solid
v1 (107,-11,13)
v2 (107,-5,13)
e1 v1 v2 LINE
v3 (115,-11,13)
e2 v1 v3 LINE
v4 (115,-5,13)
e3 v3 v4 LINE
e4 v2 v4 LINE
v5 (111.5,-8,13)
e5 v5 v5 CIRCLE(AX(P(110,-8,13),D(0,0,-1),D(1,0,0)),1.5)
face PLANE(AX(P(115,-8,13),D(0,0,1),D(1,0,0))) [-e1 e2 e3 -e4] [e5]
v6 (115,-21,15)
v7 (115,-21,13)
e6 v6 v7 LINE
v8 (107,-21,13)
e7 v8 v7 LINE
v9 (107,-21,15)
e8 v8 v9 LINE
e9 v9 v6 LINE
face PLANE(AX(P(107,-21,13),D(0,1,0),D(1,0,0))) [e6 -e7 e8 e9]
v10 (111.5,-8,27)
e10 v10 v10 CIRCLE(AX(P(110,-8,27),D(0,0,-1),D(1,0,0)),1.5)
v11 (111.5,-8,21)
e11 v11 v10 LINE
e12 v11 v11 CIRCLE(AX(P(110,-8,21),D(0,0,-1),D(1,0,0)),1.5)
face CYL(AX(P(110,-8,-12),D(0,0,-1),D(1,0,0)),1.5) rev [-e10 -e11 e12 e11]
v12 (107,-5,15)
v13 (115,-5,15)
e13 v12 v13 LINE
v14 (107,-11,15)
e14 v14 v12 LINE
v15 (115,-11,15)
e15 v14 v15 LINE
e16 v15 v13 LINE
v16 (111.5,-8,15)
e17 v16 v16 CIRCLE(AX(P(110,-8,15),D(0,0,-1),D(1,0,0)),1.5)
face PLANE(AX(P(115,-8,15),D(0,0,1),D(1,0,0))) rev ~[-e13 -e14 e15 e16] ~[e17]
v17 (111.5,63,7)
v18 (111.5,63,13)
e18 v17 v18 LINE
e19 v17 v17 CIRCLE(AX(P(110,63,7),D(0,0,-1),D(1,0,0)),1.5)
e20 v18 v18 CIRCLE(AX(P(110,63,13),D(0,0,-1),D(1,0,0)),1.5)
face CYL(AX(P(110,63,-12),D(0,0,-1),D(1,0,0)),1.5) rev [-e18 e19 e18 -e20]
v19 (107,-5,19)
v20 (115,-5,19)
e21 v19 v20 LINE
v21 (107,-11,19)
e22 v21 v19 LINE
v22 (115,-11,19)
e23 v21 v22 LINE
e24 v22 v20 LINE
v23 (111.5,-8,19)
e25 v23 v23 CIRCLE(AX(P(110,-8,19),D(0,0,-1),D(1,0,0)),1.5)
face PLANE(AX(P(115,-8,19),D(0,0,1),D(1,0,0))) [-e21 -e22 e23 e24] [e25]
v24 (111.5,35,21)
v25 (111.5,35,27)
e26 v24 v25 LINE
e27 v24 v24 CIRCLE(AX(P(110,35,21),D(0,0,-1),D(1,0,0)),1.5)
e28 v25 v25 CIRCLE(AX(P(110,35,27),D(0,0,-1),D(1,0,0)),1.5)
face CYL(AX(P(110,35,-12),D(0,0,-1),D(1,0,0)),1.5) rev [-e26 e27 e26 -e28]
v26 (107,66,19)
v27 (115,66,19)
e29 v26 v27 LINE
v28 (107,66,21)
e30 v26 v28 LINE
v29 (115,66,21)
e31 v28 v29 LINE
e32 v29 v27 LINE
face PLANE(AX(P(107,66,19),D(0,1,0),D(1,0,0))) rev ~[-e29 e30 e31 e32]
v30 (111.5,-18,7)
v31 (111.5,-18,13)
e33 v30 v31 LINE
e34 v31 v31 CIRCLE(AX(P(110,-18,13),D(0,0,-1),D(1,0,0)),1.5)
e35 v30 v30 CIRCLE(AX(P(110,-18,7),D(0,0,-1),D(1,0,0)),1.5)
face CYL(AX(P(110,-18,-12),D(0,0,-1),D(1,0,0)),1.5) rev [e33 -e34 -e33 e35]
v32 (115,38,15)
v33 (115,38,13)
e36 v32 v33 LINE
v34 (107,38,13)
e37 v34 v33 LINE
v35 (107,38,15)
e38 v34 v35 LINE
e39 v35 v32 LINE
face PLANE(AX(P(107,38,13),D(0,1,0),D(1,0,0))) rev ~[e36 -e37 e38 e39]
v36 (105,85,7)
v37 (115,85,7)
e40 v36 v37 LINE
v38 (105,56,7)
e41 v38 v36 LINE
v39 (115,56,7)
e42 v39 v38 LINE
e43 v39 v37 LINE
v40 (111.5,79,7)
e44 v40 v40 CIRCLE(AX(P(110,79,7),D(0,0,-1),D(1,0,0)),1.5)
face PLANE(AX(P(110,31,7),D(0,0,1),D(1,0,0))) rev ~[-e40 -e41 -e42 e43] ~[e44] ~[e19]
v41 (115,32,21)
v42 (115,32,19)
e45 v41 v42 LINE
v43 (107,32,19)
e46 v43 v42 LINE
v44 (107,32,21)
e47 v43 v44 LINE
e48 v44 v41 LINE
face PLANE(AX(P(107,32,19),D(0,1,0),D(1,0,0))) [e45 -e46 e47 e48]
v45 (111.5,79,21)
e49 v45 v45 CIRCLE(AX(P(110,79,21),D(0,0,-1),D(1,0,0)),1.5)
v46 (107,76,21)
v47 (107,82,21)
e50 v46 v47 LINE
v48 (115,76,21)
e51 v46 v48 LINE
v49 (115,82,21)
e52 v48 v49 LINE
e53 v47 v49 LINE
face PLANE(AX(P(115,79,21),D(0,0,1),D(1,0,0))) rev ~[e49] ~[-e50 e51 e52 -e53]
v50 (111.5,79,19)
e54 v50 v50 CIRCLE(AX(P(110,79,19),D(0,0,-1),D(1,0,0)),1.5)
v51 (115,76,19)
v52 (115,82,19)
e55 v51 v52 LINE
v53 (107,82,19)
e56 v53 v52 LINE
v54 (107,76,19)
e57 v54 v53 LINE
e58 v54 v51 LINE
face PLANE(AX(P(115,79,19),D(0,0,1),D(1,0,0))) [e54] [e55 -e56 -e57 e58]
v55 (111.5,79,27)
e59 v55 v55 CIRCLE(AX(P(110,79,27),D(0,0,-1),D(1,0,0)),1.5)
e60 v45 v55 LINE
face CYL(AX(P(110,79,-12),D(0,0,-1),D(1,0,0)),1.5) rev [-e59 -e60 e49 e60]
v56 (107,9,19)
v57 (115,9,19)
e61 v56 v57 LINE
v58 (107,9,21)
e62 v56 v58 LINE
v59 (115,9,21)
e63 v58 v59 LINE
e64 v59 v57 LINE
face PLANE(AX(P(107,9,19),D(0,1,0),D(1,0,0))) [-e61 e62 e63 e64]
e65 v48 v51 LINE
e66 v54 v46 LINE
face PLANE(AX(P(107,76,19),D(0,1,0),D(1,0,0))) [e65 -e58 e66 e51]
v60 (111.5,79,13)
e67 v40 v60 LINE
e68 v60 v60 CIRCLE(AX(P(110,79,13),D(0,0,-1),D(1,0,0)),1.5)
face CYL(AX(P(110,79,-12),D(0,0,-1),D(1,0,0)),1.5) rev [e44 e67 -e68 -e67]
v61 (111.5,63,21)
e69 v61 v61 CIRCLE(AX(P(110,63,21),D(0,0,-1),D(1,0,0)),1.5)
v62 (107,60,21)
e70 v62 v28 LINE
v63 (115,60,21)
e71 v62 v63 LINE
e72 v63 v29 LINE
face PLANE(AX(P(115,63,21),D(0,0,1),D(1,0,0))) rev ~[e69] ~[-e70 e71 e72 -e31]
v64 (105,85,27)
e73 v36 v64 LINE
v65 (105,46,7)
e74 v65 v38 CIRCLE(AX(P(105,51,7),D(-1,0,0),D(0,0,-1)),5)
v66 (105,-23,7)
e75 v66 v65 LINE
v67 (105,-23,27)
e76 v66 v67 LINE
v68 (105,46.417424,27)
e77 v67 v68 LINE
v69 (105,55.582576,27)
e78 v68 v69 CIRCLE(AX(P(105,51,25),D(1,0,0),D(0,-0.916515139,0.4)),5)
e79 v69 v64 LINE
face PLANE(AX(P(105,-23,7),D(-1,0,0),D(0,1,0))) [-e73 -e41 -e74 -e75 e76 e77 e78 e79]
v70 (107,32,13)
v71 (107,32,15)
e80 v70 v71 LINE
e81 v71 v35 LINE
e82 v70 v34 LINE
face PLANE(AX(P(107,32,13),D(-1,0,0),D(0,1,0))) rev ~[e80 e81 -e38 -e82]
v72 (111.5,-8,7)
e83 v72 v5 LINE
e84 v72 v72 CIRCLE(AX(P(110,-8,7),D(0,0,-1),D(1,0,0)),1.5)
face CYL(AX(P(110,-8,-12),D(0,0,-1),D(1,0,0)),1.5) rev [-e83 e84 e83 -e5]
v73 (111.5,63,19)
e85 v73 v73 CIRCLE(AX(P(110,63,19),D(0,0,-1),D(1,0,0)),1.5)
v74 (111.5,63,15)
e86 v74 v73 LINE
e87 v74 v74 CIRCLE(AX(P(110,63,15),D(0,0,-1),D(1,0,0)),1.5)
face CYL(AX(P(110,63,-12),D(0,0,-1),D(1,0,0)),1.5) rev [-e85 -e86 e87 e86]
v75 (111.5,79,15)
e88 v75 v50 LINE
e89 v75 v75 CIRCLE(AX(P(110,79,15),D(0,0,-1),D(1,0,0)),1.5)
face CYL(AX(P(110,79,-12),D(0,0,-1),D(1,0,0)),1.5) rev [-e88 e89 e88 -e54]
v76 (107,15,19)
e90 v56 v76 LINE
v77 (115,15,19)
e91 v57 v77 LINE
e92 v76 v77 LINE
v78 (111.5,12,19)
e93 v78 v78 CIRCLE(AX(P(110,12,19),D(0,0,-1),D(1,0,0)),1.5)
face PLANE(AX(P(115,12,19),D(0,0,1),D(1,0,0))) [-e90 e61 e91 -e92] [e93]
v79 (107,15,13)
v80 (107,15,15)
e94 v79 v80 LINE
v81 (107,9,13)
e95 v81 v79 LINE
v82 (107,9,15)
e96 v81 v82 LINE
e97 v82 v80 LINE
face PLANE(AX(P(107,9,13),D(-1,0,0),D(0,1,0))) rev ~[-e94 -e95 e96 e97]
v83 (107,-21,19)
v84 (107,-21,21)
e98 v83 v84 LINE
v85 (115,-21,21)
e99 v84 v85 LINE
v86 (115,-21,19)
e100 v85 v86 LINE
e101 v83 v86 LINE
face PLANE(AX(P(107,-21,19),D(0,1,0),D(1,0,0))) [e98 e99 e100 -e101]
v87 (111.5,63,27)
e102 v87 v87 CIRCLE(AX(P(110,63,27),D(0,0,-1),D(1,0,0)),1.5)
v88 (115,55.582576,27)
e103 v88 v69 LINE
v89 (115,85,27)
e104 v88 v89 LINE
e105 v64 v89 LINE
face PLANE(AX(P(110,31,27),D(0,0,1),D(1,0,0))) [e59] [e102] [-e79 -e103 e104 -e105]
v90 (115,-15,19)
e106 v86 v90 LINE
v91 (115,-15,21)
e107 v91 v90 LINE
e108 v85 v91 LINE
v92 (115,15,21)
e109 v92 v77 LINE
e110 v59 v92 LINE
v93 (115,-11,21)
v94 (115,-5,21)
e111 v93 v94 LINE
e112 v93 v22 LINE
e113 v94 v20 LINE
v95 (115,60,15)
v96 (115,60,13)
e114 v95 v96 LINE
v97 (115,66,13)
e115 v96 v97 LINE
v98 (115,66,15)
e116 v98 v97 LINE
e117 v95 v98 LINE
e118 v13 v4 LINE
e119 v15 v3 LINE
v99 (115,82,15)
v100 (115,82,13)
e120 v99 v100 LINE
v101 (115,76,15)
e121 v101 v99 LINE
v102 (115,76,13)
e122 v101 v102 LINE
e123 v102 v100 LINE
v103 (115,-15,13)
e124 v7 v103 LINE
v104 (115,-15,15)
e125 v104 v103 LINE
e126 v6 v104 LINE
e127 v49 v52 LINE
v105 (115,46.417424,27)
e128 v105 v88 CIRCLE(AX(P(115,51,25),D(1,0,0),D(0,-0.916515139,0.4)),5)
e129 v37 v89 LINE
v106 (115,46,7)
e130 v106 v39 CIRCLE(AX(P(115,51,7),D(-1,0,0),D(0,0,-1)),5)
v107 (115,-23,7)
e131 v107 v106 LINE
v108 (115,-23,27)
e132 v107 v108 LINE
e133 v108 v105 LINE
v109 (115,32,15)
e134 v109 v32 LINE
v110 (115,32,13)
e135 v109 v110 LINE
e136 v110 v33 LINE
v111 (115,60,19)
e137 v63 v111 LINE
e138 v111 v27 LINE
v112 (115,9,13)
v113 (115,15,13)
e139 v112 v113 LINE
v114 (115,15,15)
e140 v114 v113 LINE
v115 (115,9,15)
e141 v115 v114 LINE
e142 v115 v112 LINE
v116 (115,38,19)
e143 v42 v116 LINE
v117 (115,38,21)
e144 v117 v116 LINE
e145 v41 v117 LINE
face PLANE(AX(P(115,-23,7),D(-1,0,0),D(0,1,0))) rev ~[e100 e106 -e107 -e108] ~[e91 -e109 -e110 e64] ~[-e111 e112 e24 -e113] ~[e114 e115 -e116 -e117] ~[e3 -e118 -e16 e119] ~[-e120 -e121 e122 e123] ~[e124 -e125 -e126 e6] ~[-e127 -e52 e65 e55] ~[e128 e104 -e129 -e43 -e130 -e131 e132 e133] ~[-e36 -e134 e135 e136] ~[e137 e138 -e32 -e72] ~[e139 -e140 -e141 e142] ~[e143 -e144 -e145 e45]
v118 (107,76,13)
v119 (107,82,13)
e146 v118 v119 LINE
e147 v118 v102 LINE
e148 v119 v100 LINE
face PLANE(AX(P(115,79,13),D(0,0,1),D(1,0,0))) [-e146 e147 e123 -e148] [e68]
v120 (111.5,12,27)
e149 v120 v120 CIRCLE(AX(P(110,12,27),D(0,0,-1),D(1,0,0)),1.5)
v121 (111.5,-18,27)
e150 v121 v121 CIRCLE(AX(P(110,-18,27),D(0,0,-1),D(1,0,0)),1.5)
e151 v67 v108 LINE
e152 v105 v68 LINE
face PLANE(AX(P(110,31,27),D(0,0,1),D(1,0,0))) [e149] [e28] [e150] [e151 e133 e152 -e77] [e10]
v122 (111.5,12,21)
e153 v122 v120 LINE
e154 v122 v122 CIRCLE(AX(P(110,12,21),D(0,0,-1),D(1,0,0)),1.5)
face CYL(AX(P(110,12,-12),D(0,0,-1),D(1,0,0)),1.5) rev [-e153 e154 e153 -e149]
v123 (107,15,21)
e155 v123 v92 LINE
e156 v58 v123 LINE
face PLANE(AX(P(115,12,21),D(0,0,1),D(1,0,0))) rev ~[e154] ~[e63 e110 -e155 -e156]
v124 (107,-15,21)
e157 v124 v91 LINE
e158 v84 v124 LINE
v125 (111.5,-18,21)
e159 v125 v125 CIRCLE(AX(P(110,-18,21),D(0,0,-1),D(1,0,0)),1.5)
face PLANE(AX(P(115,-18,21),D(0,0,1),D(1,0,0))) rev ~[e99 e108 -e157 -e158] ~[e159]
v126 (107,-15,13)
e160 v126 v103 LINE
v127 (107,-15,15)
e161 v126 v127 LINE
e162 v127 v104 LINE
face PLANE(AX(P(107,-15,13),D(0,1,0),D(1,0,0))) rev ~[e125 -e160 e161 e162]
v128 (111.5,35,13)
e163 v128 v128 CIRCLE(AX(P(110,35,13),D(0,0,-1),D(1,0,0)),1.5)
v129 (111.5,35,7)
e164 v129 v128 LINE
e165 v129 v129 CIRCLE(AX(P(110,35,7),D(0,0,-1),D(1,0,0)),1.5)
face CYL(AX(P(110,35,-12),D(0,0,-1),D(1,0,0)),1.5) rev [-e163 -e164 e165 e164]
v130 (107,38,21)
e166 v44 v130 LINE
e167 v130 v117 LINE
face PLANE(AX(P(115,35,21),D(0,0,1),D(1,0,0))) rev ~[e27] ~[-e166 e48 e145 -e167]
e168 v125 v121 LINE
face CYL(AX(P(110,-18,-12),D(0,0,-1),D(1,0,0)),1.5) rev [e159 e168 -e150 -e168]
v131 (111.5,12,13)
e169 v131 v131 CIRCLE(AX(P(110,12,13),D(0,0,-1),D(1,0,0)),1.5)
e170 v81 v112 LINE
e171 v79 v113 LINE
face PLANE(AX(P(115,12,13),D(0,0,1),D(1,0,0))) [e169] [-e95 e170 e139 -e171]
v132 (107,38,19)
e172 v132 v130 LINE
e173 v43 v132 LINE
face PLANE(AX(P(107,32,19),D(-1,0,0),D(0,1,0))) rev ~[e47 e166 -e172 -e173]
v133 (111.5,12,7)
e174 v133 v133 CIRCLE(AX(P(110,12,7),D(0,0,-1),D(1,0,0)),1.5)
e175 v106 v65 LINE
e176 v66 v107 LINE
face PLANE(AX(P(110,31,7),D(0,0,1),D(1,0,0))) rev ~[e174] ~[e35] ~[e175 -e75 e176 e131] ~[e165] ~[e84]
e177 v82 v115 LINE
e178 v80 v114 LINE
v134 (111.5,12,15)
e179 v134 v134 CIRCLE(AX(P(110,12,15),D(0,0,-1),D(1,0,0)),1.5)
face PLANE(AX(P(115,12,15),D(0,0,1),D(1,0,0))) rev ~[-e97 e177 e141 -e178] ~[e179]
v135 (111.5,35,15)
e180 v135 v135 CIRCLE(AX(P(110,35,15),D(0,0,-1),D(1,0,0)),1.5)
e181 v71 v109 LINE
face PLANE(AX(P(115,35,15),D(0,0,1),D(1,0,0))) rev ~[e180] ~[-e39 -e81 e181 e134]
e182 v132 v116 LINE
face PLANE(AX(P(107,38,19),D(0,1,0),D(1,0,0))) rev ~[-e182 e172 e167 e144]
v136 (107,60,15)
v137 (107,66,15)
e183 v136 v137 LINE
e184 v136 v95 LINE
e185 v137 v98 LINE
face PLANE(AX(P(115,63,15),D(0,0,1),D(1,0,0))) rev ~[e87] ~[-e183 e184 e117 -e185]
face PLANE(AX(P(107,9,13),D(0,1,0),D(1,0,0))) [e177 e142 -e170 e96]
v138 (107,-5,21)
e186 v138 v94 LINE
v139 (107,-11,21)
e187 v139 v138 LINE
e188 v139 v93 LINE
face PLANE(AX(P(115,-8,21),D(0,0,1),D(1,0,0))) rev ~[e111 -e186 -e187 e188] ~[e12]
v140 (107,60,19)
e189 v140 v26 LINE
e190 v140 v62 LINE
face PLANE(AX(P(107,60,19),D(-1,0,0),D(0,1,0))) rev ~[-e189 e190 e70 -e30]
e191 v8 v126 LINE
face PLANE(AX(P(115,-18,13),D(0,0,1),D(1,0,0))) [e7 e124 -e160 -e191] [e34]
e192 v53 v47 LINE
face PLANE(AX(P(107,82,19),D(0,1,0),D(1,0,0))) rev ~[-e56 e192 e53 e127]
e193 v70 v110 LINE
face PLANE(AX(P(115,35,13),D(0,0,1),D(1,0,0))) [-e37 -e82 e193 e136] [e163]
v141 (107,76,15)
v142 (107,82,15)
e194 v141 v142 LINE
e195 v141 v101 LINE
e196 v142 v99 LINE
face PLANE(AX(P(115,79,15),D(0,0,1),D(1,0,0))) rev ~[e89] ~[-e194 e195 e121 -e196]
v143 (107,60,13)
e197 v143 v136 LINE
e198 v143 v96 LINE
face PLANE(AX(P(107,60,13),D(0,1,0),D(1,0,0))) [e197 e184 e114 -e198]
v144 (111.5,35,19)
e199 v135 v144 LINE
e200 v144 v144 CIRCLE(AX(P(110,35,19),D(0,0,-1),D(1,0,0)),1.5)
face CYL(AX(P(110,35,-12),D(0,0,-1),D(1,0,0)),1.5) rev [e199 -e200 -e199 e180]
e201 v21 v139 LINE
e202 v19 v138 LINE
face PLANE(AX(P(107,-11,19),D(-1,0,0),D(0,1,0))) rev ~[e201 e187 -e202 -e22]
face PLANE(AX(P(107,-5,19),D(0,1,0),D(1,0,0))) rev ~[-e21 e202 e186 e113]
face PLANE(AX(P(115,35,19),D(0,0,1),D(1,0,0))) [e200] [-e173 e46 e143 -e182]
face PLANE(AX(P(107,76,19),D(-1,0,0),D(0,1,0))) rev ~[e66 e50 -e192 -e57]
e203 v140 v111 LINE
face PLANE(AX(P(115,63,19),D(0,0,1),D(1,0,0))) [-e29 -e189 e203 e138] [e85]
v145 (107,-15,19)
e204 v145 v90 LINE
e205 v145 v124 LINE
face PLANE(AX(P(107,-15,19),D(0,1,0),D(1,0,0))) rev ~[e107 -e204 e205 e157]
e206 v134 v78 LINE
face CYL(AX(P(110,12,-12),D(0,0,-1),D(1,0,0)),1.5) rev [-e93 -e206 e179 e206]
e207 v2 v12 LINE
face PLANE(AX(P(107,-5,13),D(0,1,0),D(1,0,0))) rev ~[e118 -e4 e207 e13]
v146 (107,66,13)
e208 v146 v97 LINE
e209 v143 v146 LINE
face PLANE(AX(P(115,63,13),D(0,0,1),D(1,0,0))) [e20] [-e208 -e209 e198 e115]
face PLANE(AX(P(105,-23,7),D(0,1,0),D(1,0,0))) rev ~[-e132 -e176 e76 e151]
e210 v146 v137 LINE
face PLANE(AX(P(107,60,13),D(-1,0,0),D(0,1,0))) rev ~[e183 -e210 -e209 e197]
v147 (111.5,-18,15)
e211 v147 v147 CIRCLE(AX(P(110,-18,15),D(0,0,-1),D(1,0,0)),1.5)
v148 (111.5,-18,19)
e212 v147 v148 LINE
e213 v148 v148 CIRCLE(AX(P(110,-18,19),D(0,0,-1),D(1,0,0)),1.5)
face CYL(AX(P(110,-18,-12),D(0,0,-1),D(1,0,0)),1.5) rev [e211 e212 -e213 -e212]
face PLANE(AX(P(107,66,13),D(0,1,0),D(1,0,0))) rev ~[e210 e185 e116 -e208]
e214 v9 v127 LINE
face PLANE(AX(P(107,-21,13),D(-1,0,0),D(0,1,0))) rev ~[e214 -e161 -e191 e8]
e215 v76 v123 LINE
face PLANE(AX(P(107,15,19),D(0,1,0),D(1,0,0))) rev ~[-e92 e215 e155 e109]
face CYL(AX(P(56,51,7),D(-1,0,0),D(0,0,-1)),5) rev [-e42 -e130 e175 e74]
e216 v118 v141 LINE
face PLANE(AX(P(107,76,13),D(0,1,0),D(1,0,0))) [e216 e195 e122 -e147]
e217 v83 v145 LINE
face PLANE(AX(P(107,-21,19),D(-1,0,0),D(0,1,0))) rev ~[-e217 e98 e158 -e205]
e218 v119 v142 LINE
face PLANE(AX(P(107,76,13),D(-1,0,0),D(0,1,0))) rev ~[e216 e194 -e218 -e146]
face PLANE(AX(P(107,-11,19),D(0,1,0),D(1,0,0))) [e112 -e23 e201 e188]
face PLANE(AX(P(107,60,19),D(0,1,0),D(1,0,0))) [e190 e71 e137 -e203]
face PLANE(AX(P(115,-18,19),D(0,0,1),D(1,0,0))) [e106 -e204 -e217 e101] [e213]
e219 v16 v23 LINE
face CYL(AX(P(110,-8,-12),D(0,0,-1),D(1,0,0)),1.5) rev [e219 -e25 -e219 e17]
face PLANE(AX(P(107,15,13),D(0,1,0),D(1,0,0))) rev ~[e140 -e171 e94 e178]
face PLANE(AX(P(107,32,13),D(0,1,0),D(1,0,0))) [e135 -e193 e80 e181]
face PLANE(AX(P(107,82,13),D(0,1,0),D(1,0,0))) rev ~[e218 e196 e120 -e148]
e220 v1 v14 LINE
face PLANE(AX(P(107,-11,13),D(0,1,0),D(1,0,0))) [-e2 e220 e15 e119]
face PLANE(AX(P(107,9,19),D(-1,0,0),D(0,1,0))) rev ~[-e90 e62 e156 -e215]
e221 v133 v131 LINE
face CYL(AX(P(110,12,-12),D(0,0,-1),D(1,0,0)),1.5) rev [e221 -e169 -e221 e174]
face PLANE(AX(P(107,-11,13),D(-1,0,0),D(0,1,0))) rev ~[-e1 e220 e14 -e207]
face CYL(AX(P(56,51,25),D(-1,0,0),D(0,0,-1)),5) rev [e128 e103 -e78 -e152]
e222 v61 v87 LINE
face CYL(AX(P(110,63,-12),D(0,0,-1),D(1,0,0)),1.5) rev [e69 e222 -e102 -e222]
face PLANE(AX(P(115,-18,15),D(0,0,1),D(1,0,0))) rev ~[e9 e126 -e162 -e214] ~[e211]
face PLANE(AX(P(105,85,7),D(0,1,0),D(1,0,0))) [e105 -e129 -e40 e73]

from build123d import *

# Parameters (mm, degrees)
BOX202_W          = 16
BOX202_H          = 6
BOX202_DEPTH      = 2
BOX208_W          = 16
BOX208_H          = 6
BOX208_DEPTH      = 2
BOX206_W          = 16
BOX206_H          = 6
BOX206_DEPTH      = 2
BOX204_W          = 16
BOX204_H          = 6
BOX204_DEPTH      = 2
BOX198_W          = 16
BOX198_H          = 6
BOX198_DEPTH      = 2
BOX209_W          = 16
BOX209_H          = 6
BOX209_DEPTH      = 2
BOX205_W          = 16
BOX205_H          = 6
BOX205_DEPTH      = 2
BOX207_W          = 16
BOX207_H          = 6
BOX207_DEPTH      = 2
BOX200_W          = 16
BOX200_H          = 6
BOX200_DEPTH      = 2
BOX212_W          = 16
BOX212_H          = 6
BOX212_DEPTH      = 2
BOX211_W          = 16
BOX211_H          = 6
BOX211_DEPTH      = 2
BOX203_W          = 16
BOX203_H          = 6
BOX203_DEPTH      = 2
CYLINDER480_R     = 1.5
CYLINDER480_DEPTH = 50
CYLINDER467_R     = 1.5
CYLINDER467_DEPTH = 50
CYLINDER483_R     = 1.5
CYLINDER483_DEPTH = 50
CYLINDER486_R     = 1.5
CYLINDER486_DEPTH = 50
CYLINDER488_R     = 1.5
CYLINDER488_DEPTH = 50
CYLINDER482_R     = 1.5
CYLINDER482_DEPTH = 50
CYLINDER476_R     = 5
CYLINDER476_DEPTH = 100
CYLINDER475_R     = 5
CYLINDER475_DEPTH = 100
CYLINDER461_R     = 5
CYLINDER461_DEPTH = 100
CYLINDER477_R     = 5
CYLINDER477_DEPTH = 100
CYLINDER481_R     = 5
CYLINDER481_DEPTH = 100
CYLINDER478_R     = 5
CYLINDER478_DEPTH = 100
CYLINDER479_R     = 5
CYLINDER479_DEPTH = 100
CYLINDER474_R     = 5
CYLINDER474_DEPTH = 100
BOX201_W          = 10
BOX201_H          = 108
BOX201_DEPTH      = 20


with BuildPart() as krychle202:
    # Box202 → Box202 (new body)
    with BuildSketch(Plane(origin=(60, 2, 16), x_dir=(1, 0, 0), z_dir=(0, 0, 1))):
        with Locations((8, 3)):
            Rectangle(BOX202_W, BOX202_H)
    extrude(amount=BOX202_DEPTH)


with BuildPart() as krychle208:
    # Box208 → Box208 (new body)
    with BuildSketch(Plane(origin=(60, -21, 10), x_dir=(1, 0, 0), z_dir=(0, 0, 1))):
        with Locations((8, 3)):
            Rectangle(BOX208_W, BOX208_H)
    extrude(amount=BOX208_DEPTH)


with BuildPart() as krychle206:
    # Box206 → Box206 (new body)
    with BuildSketch(Plane(origin=(60, -21, 16), x_dir=(1, 0, 0), z_dir=(0, 0, 1))):
        with Locations((8, 3)):
            Rectangle(BOX206_W, BOX206_H)
    extrude(amount=BOX206_DEPTH)


with BuildPart() as krychle204:
    # Box204 → Box204 (new body)
    with BuildSketch(Plane(origin=(60, -41, 10), x_dir=(1, 0, 0), z_dir=(0, 0, 1))):
        with Locations((8, 3)):
            Rectangle(BOX204_W, BOX204_H)
    extrude(amount=BOX204_DEPTH)


with BuildPart() as krychle198:
    # Box198 → Box198 (new body)
    with BuildSketch(Plane(origin=(60, -41, 16), x_dir=(1, 0, 0), z_dir=(0, 0, 1))):
        with Locations((8, 3)):
            Rectangle(BOX198_W, BOX198_H)
    extrude(amount=BOX198_DEPTH)


with BuildPart() as krychle209:
    # Box209 → Box209 (new body)
    with BuildSketch(Plane(origin=(60, -51, 10), x_dir=(1, 0, 0), z_dir=(0, 0, 1))):
        with Locations((8, 3)):
            Rectangle(BOX209_W, BOX209_H)
    extrude(amount=BOX209_DEPTH)


with BuildPart() as krychle205:
    # Box205 → Box205 (new body)
    with BuildSketch(Plane(origin=(60, -51, 16), x_dir=(1, 0, 0), z_dir=(0, 0, 1))):
        with Locations((8, 3)):
            Rectangle(BOX205_W, BOX205_H)
    extrude(amount=BOX205_DEPTH)


with BuildPart() as krychle207:
    # Box207 → Box207 (new body)
    with BuildSketch(Plane(origin=(60, 30, 10), x_dir=(1, 0, 0), z_dir=(0, 0, 1))):
        with Locations((8, 3)):
            Rectangle(BOX207_W, BOX207_H)
    extrude(amount=BOX207_DEPTH)


with BuildPart() as krychle200:
    # Box200 → Box200 (new body)
    with BuildSketch(Plane(origin=(60, 46, 10), x_dir=(1, 0, 0), z_dir=(0, 0, 1))):
        with Locations((8, 3)):
            Rectangle(BOX200_W, BOX200_H)
    extrude(amount=BOX200_DEPTH)


with BuildPart() as krychle212:
    # Box212 → Box212 (new body)
    with BuildSketch(Plane(origin=(60, 30, 16), x_dir=(1, 0, 0), z_dir=(0, 0, 1))):
        with Locations((8, 3)):
            Rectangle(BOX212_W, BOX212_H)
    extrude(amount=BOX212_DEPTH)


with BuildPart() as krychle211:
    # Box211 → Box211 (new body)
    with BuildSketch(Plane(origin=(60, 46, 16), x_dir=(1, 0, 0), z_dir=(0, 0, 1))):
        with Locations((8, 3)):
            Rectangle(BOX211_W, BOX211_H)
    extrude(amount=BOX211_DEPTH)


with BuildPart() as compound592:
    # Box203 → Box203 (new body)
    with BuildSketch(Plane(origin=(60, 2, 10), x_dir=(1, 0, 0), z_dir=(0, 0, 1))):
        with Locations((8, 3)):
            Rectangle(BOX203_W, BOX203_H)
    extrude(amount=BOX203_DEPTH)

    # Compound592: union Krychle202, Krychle208, Krychle206, Krychle204, Krychle198, Krychle209, Krychle205, Krychle207, Krychle200, Krychle212, Krychle211
    add(krychle202.part)
    add(krychle208.part)
    add(krychle206.part)
    add(krychle204.part)
    add(krychle198.part)
    add(krychle209.part)
    add(krychle205.part)
    add(krychle207.part)
    add(krychle200.part)
    add(krychle212.part)
    add(krychle211.part)


with BuildPart() as compound592_1:
    # Compound592 placement: moved
    add(compound592.part.moved(Location((39, 24, 3))))


with BuildPart() as v_lec480:
    # Cylinder480 → Cylinder480 (new body)
    with BuildSketch(Plane(origin=(63, -18, -12), x_dir=(1, 0, 0), z_dir=(0, 0, 1))):
        Circle(CYLINDER480_R)
    extrude(amount=CYLINDER480_DEPTH)


with BuildPart() as v_lec467:
    # Cylinder467 → Cylinder467 (new body)
    with BuildSketch(Plane(origin=(63, -38, -12), x_dir=(1, 0, 0), z_dir=(0, 0, 1))):
        Circle(CYLINDER467_R)
    extrude(amount=CYLINDER467_DEPTH)


with BuildPart() as v_lec483:
    # Cylinder483 → Cylinder483 (new body)
    with BuildSketch(Plane(origin=(63, -48, -12), x_dir=(1, 0, 0), z_dir=(0, 0, 1))):
        Circle(CYLINDER483_R)
    extrude(amount=CYLINDER483_DEPTH)


with BuildPart() as v_lec486:
    # Cylinder486 → Cylinder486 (new body)
    with BuildSketch(Plane(origin=(63, 33, -12), x_dir=(1, 0, 0), z_dir=(0, 0, 1))):
        Circle(CYLINDER486_R)
    extrude(amount=CYLINDER486_DEPTH)


with BuildPart() as v_lec488:
    # Cylinder488 → Cylinder488 (new body)
    with BuildSketch(Plane(origin=(63, 49, -12), x_dir=(1, 0, 0), z_dir=(0, 0, 1))):
        Circle(CYLINDER488_R)
    extrude(amount=CYLINDER488_DEPTH)


with BuildPart() as compound593:
    # Cylinder482 → Cylinder482 (new body)
    with BuildSketch(Plane(origin=(63, 5, -12), x_dir=(1, 0, 0), z_dir=(0, 0, 1))):
        Circle(CYLINDER482_R)
    extrude(amount=CYLINDER482_DEPTH)

    # Compound593: union Válec480, Válec467, Válec483, Válec486, Válec488
    add(v_lec480.part)
    add(v_lec467.part)
    add(v_lec483.part)
    add(v_lec486.part)
    add(v_lec488.part)


with BuildPart() as compound593_1:
    # Compound593 placement: moved
    add(compound593.part.moved(Location((39, 24, 0))))


with BuildPart() as v_lec476:
    # Cylinder476 → Cylinder476 (new body)
    with BuildSketch(Plane(origin=(24, -51, 25), x_dir=(0, 0, -1), z_dir=(1, 0, 0))):
        Circle(CYLINDER476_R)
    extrude(amount=CYLINDER476_DEPTH)


with BuildPart() as v_lec475:
    # Cylinder475 → Cylinder475 (new body)
    with BuildSketch(Plane(origin=(24, 36, 34), x_dir=(0, 0, -1), z_dir=(1, 0, 0))):
        Circle(CYLINDER475_R)
    extrude(amount=CYLINDER475_DEPTH)


with BuildPart() as v_lec461:
    # Cylinder461 → Cylinder461 (new body)
    with BuildSketch(Plane(origin=(24, -36, 34), x_dir=(0, 0, -1), z_dir=(1, 0, 0))):
        Circle(CYLINDER461_R)
    extrude(amount=CYLINDER461_DEPTH)


with BuildPart() as v_lec477:
    # Cylinder477 → Cylinder477 (new body)
    with BuildSketch(Plane(origin=(24, -23, -5), x_dir=(0, 0, -1), z_dir=(1, 0, 0))):
        Circle(CYLINDER477_R)
    extrude(amount=CYLINDER477_DEPTH)


with BuildPart() as v_lec481:
    # Cylinder481 → Cylinder481 (new body)
    with BuildSketch(Plane(origin=(24, 51, 7), x_dir=(0, 0, -1), z_dir=(1, 0, 0))):
        Circle(CYLINDER481_R)
    extrude(amount=CYLINDER481_DEPTH)


with BuildPart() as v_lec478:
    # Cylinder478 → Cylinder478 (new body)
    with BuildSketch(Plane(origin=(24, 23, -5), x_dir=(0, 0, -1), z_dir=(1, 0, 0))):
        Circle(CYLINDER478_R)
    extrude(amount=CYLINDER478_DEPTH)


with BuildPart() as v_lec479:
    # Cylinder479 → Cylinder479 (new body)
    with BuildSketch(Plane(origin=(24, -51, 7), x_dir=(0, 0, -1), z_dir=(1, 0, 0))):
        Circle(CYLINDER479_R)
    extrude(amount=CYLINDER479_DEPTH)


with BuildPart() as compound596:
    # Cylinder474 → Cylinder474 (new body)
    with BuildSketch(Plane(origin=(24, 51, 25), x_dir=(0, 0, -1), z_dir=(1, 0, 0))):
        Circle(CYLINDER474_R)
    extrude(amount=CYLINDER474_DEPTH)

    # Compound596: union Válec476, Válec475, Válec461, Válec477, Válec481, Válec478, Válec479
    add(v_lec476.part)
    add(v_lec475.part)
    add(v_lec461.part)
    add(v_lec477.part)
    add(v_lec481.part)
    add(v_lec478.part)
    add(v_lec479.part)


with BuildPart() as compound596_1:
    # Compound596 placement: moved
    add(compound596.part.moved(Location((24, -6, 0))))


with BuildPart() as cut373:
    # Box201 → Box201 (new body)
    with BuildSketch(Plane(origin=(97, -29, 7), x_dir=(1, 0, 0), z_dir=(0, 0, 1))):
        with Locations((5, 54)):
            Rectangle(BOX201_W, BOX201_H)
    extrude(amount=BOX201_DEPTH)

    # Cut370: cut Compound596
    add(compound596_1.part, mode=Mode.SUBTRACT)

    # Cut372: cut Compound593
    add(compound593_1.part, mode=Mode.SUBTRACT)

    # Cut373: cut Compound592
    add(compound592_1.part, mode=Mode.SUBTRACT)


with BuildPart() as cut373_1:
    # Cut373 placement: moved
    add(cut373.part.moved(Location((8, 6, 0))))


solid = cut373_1.part
